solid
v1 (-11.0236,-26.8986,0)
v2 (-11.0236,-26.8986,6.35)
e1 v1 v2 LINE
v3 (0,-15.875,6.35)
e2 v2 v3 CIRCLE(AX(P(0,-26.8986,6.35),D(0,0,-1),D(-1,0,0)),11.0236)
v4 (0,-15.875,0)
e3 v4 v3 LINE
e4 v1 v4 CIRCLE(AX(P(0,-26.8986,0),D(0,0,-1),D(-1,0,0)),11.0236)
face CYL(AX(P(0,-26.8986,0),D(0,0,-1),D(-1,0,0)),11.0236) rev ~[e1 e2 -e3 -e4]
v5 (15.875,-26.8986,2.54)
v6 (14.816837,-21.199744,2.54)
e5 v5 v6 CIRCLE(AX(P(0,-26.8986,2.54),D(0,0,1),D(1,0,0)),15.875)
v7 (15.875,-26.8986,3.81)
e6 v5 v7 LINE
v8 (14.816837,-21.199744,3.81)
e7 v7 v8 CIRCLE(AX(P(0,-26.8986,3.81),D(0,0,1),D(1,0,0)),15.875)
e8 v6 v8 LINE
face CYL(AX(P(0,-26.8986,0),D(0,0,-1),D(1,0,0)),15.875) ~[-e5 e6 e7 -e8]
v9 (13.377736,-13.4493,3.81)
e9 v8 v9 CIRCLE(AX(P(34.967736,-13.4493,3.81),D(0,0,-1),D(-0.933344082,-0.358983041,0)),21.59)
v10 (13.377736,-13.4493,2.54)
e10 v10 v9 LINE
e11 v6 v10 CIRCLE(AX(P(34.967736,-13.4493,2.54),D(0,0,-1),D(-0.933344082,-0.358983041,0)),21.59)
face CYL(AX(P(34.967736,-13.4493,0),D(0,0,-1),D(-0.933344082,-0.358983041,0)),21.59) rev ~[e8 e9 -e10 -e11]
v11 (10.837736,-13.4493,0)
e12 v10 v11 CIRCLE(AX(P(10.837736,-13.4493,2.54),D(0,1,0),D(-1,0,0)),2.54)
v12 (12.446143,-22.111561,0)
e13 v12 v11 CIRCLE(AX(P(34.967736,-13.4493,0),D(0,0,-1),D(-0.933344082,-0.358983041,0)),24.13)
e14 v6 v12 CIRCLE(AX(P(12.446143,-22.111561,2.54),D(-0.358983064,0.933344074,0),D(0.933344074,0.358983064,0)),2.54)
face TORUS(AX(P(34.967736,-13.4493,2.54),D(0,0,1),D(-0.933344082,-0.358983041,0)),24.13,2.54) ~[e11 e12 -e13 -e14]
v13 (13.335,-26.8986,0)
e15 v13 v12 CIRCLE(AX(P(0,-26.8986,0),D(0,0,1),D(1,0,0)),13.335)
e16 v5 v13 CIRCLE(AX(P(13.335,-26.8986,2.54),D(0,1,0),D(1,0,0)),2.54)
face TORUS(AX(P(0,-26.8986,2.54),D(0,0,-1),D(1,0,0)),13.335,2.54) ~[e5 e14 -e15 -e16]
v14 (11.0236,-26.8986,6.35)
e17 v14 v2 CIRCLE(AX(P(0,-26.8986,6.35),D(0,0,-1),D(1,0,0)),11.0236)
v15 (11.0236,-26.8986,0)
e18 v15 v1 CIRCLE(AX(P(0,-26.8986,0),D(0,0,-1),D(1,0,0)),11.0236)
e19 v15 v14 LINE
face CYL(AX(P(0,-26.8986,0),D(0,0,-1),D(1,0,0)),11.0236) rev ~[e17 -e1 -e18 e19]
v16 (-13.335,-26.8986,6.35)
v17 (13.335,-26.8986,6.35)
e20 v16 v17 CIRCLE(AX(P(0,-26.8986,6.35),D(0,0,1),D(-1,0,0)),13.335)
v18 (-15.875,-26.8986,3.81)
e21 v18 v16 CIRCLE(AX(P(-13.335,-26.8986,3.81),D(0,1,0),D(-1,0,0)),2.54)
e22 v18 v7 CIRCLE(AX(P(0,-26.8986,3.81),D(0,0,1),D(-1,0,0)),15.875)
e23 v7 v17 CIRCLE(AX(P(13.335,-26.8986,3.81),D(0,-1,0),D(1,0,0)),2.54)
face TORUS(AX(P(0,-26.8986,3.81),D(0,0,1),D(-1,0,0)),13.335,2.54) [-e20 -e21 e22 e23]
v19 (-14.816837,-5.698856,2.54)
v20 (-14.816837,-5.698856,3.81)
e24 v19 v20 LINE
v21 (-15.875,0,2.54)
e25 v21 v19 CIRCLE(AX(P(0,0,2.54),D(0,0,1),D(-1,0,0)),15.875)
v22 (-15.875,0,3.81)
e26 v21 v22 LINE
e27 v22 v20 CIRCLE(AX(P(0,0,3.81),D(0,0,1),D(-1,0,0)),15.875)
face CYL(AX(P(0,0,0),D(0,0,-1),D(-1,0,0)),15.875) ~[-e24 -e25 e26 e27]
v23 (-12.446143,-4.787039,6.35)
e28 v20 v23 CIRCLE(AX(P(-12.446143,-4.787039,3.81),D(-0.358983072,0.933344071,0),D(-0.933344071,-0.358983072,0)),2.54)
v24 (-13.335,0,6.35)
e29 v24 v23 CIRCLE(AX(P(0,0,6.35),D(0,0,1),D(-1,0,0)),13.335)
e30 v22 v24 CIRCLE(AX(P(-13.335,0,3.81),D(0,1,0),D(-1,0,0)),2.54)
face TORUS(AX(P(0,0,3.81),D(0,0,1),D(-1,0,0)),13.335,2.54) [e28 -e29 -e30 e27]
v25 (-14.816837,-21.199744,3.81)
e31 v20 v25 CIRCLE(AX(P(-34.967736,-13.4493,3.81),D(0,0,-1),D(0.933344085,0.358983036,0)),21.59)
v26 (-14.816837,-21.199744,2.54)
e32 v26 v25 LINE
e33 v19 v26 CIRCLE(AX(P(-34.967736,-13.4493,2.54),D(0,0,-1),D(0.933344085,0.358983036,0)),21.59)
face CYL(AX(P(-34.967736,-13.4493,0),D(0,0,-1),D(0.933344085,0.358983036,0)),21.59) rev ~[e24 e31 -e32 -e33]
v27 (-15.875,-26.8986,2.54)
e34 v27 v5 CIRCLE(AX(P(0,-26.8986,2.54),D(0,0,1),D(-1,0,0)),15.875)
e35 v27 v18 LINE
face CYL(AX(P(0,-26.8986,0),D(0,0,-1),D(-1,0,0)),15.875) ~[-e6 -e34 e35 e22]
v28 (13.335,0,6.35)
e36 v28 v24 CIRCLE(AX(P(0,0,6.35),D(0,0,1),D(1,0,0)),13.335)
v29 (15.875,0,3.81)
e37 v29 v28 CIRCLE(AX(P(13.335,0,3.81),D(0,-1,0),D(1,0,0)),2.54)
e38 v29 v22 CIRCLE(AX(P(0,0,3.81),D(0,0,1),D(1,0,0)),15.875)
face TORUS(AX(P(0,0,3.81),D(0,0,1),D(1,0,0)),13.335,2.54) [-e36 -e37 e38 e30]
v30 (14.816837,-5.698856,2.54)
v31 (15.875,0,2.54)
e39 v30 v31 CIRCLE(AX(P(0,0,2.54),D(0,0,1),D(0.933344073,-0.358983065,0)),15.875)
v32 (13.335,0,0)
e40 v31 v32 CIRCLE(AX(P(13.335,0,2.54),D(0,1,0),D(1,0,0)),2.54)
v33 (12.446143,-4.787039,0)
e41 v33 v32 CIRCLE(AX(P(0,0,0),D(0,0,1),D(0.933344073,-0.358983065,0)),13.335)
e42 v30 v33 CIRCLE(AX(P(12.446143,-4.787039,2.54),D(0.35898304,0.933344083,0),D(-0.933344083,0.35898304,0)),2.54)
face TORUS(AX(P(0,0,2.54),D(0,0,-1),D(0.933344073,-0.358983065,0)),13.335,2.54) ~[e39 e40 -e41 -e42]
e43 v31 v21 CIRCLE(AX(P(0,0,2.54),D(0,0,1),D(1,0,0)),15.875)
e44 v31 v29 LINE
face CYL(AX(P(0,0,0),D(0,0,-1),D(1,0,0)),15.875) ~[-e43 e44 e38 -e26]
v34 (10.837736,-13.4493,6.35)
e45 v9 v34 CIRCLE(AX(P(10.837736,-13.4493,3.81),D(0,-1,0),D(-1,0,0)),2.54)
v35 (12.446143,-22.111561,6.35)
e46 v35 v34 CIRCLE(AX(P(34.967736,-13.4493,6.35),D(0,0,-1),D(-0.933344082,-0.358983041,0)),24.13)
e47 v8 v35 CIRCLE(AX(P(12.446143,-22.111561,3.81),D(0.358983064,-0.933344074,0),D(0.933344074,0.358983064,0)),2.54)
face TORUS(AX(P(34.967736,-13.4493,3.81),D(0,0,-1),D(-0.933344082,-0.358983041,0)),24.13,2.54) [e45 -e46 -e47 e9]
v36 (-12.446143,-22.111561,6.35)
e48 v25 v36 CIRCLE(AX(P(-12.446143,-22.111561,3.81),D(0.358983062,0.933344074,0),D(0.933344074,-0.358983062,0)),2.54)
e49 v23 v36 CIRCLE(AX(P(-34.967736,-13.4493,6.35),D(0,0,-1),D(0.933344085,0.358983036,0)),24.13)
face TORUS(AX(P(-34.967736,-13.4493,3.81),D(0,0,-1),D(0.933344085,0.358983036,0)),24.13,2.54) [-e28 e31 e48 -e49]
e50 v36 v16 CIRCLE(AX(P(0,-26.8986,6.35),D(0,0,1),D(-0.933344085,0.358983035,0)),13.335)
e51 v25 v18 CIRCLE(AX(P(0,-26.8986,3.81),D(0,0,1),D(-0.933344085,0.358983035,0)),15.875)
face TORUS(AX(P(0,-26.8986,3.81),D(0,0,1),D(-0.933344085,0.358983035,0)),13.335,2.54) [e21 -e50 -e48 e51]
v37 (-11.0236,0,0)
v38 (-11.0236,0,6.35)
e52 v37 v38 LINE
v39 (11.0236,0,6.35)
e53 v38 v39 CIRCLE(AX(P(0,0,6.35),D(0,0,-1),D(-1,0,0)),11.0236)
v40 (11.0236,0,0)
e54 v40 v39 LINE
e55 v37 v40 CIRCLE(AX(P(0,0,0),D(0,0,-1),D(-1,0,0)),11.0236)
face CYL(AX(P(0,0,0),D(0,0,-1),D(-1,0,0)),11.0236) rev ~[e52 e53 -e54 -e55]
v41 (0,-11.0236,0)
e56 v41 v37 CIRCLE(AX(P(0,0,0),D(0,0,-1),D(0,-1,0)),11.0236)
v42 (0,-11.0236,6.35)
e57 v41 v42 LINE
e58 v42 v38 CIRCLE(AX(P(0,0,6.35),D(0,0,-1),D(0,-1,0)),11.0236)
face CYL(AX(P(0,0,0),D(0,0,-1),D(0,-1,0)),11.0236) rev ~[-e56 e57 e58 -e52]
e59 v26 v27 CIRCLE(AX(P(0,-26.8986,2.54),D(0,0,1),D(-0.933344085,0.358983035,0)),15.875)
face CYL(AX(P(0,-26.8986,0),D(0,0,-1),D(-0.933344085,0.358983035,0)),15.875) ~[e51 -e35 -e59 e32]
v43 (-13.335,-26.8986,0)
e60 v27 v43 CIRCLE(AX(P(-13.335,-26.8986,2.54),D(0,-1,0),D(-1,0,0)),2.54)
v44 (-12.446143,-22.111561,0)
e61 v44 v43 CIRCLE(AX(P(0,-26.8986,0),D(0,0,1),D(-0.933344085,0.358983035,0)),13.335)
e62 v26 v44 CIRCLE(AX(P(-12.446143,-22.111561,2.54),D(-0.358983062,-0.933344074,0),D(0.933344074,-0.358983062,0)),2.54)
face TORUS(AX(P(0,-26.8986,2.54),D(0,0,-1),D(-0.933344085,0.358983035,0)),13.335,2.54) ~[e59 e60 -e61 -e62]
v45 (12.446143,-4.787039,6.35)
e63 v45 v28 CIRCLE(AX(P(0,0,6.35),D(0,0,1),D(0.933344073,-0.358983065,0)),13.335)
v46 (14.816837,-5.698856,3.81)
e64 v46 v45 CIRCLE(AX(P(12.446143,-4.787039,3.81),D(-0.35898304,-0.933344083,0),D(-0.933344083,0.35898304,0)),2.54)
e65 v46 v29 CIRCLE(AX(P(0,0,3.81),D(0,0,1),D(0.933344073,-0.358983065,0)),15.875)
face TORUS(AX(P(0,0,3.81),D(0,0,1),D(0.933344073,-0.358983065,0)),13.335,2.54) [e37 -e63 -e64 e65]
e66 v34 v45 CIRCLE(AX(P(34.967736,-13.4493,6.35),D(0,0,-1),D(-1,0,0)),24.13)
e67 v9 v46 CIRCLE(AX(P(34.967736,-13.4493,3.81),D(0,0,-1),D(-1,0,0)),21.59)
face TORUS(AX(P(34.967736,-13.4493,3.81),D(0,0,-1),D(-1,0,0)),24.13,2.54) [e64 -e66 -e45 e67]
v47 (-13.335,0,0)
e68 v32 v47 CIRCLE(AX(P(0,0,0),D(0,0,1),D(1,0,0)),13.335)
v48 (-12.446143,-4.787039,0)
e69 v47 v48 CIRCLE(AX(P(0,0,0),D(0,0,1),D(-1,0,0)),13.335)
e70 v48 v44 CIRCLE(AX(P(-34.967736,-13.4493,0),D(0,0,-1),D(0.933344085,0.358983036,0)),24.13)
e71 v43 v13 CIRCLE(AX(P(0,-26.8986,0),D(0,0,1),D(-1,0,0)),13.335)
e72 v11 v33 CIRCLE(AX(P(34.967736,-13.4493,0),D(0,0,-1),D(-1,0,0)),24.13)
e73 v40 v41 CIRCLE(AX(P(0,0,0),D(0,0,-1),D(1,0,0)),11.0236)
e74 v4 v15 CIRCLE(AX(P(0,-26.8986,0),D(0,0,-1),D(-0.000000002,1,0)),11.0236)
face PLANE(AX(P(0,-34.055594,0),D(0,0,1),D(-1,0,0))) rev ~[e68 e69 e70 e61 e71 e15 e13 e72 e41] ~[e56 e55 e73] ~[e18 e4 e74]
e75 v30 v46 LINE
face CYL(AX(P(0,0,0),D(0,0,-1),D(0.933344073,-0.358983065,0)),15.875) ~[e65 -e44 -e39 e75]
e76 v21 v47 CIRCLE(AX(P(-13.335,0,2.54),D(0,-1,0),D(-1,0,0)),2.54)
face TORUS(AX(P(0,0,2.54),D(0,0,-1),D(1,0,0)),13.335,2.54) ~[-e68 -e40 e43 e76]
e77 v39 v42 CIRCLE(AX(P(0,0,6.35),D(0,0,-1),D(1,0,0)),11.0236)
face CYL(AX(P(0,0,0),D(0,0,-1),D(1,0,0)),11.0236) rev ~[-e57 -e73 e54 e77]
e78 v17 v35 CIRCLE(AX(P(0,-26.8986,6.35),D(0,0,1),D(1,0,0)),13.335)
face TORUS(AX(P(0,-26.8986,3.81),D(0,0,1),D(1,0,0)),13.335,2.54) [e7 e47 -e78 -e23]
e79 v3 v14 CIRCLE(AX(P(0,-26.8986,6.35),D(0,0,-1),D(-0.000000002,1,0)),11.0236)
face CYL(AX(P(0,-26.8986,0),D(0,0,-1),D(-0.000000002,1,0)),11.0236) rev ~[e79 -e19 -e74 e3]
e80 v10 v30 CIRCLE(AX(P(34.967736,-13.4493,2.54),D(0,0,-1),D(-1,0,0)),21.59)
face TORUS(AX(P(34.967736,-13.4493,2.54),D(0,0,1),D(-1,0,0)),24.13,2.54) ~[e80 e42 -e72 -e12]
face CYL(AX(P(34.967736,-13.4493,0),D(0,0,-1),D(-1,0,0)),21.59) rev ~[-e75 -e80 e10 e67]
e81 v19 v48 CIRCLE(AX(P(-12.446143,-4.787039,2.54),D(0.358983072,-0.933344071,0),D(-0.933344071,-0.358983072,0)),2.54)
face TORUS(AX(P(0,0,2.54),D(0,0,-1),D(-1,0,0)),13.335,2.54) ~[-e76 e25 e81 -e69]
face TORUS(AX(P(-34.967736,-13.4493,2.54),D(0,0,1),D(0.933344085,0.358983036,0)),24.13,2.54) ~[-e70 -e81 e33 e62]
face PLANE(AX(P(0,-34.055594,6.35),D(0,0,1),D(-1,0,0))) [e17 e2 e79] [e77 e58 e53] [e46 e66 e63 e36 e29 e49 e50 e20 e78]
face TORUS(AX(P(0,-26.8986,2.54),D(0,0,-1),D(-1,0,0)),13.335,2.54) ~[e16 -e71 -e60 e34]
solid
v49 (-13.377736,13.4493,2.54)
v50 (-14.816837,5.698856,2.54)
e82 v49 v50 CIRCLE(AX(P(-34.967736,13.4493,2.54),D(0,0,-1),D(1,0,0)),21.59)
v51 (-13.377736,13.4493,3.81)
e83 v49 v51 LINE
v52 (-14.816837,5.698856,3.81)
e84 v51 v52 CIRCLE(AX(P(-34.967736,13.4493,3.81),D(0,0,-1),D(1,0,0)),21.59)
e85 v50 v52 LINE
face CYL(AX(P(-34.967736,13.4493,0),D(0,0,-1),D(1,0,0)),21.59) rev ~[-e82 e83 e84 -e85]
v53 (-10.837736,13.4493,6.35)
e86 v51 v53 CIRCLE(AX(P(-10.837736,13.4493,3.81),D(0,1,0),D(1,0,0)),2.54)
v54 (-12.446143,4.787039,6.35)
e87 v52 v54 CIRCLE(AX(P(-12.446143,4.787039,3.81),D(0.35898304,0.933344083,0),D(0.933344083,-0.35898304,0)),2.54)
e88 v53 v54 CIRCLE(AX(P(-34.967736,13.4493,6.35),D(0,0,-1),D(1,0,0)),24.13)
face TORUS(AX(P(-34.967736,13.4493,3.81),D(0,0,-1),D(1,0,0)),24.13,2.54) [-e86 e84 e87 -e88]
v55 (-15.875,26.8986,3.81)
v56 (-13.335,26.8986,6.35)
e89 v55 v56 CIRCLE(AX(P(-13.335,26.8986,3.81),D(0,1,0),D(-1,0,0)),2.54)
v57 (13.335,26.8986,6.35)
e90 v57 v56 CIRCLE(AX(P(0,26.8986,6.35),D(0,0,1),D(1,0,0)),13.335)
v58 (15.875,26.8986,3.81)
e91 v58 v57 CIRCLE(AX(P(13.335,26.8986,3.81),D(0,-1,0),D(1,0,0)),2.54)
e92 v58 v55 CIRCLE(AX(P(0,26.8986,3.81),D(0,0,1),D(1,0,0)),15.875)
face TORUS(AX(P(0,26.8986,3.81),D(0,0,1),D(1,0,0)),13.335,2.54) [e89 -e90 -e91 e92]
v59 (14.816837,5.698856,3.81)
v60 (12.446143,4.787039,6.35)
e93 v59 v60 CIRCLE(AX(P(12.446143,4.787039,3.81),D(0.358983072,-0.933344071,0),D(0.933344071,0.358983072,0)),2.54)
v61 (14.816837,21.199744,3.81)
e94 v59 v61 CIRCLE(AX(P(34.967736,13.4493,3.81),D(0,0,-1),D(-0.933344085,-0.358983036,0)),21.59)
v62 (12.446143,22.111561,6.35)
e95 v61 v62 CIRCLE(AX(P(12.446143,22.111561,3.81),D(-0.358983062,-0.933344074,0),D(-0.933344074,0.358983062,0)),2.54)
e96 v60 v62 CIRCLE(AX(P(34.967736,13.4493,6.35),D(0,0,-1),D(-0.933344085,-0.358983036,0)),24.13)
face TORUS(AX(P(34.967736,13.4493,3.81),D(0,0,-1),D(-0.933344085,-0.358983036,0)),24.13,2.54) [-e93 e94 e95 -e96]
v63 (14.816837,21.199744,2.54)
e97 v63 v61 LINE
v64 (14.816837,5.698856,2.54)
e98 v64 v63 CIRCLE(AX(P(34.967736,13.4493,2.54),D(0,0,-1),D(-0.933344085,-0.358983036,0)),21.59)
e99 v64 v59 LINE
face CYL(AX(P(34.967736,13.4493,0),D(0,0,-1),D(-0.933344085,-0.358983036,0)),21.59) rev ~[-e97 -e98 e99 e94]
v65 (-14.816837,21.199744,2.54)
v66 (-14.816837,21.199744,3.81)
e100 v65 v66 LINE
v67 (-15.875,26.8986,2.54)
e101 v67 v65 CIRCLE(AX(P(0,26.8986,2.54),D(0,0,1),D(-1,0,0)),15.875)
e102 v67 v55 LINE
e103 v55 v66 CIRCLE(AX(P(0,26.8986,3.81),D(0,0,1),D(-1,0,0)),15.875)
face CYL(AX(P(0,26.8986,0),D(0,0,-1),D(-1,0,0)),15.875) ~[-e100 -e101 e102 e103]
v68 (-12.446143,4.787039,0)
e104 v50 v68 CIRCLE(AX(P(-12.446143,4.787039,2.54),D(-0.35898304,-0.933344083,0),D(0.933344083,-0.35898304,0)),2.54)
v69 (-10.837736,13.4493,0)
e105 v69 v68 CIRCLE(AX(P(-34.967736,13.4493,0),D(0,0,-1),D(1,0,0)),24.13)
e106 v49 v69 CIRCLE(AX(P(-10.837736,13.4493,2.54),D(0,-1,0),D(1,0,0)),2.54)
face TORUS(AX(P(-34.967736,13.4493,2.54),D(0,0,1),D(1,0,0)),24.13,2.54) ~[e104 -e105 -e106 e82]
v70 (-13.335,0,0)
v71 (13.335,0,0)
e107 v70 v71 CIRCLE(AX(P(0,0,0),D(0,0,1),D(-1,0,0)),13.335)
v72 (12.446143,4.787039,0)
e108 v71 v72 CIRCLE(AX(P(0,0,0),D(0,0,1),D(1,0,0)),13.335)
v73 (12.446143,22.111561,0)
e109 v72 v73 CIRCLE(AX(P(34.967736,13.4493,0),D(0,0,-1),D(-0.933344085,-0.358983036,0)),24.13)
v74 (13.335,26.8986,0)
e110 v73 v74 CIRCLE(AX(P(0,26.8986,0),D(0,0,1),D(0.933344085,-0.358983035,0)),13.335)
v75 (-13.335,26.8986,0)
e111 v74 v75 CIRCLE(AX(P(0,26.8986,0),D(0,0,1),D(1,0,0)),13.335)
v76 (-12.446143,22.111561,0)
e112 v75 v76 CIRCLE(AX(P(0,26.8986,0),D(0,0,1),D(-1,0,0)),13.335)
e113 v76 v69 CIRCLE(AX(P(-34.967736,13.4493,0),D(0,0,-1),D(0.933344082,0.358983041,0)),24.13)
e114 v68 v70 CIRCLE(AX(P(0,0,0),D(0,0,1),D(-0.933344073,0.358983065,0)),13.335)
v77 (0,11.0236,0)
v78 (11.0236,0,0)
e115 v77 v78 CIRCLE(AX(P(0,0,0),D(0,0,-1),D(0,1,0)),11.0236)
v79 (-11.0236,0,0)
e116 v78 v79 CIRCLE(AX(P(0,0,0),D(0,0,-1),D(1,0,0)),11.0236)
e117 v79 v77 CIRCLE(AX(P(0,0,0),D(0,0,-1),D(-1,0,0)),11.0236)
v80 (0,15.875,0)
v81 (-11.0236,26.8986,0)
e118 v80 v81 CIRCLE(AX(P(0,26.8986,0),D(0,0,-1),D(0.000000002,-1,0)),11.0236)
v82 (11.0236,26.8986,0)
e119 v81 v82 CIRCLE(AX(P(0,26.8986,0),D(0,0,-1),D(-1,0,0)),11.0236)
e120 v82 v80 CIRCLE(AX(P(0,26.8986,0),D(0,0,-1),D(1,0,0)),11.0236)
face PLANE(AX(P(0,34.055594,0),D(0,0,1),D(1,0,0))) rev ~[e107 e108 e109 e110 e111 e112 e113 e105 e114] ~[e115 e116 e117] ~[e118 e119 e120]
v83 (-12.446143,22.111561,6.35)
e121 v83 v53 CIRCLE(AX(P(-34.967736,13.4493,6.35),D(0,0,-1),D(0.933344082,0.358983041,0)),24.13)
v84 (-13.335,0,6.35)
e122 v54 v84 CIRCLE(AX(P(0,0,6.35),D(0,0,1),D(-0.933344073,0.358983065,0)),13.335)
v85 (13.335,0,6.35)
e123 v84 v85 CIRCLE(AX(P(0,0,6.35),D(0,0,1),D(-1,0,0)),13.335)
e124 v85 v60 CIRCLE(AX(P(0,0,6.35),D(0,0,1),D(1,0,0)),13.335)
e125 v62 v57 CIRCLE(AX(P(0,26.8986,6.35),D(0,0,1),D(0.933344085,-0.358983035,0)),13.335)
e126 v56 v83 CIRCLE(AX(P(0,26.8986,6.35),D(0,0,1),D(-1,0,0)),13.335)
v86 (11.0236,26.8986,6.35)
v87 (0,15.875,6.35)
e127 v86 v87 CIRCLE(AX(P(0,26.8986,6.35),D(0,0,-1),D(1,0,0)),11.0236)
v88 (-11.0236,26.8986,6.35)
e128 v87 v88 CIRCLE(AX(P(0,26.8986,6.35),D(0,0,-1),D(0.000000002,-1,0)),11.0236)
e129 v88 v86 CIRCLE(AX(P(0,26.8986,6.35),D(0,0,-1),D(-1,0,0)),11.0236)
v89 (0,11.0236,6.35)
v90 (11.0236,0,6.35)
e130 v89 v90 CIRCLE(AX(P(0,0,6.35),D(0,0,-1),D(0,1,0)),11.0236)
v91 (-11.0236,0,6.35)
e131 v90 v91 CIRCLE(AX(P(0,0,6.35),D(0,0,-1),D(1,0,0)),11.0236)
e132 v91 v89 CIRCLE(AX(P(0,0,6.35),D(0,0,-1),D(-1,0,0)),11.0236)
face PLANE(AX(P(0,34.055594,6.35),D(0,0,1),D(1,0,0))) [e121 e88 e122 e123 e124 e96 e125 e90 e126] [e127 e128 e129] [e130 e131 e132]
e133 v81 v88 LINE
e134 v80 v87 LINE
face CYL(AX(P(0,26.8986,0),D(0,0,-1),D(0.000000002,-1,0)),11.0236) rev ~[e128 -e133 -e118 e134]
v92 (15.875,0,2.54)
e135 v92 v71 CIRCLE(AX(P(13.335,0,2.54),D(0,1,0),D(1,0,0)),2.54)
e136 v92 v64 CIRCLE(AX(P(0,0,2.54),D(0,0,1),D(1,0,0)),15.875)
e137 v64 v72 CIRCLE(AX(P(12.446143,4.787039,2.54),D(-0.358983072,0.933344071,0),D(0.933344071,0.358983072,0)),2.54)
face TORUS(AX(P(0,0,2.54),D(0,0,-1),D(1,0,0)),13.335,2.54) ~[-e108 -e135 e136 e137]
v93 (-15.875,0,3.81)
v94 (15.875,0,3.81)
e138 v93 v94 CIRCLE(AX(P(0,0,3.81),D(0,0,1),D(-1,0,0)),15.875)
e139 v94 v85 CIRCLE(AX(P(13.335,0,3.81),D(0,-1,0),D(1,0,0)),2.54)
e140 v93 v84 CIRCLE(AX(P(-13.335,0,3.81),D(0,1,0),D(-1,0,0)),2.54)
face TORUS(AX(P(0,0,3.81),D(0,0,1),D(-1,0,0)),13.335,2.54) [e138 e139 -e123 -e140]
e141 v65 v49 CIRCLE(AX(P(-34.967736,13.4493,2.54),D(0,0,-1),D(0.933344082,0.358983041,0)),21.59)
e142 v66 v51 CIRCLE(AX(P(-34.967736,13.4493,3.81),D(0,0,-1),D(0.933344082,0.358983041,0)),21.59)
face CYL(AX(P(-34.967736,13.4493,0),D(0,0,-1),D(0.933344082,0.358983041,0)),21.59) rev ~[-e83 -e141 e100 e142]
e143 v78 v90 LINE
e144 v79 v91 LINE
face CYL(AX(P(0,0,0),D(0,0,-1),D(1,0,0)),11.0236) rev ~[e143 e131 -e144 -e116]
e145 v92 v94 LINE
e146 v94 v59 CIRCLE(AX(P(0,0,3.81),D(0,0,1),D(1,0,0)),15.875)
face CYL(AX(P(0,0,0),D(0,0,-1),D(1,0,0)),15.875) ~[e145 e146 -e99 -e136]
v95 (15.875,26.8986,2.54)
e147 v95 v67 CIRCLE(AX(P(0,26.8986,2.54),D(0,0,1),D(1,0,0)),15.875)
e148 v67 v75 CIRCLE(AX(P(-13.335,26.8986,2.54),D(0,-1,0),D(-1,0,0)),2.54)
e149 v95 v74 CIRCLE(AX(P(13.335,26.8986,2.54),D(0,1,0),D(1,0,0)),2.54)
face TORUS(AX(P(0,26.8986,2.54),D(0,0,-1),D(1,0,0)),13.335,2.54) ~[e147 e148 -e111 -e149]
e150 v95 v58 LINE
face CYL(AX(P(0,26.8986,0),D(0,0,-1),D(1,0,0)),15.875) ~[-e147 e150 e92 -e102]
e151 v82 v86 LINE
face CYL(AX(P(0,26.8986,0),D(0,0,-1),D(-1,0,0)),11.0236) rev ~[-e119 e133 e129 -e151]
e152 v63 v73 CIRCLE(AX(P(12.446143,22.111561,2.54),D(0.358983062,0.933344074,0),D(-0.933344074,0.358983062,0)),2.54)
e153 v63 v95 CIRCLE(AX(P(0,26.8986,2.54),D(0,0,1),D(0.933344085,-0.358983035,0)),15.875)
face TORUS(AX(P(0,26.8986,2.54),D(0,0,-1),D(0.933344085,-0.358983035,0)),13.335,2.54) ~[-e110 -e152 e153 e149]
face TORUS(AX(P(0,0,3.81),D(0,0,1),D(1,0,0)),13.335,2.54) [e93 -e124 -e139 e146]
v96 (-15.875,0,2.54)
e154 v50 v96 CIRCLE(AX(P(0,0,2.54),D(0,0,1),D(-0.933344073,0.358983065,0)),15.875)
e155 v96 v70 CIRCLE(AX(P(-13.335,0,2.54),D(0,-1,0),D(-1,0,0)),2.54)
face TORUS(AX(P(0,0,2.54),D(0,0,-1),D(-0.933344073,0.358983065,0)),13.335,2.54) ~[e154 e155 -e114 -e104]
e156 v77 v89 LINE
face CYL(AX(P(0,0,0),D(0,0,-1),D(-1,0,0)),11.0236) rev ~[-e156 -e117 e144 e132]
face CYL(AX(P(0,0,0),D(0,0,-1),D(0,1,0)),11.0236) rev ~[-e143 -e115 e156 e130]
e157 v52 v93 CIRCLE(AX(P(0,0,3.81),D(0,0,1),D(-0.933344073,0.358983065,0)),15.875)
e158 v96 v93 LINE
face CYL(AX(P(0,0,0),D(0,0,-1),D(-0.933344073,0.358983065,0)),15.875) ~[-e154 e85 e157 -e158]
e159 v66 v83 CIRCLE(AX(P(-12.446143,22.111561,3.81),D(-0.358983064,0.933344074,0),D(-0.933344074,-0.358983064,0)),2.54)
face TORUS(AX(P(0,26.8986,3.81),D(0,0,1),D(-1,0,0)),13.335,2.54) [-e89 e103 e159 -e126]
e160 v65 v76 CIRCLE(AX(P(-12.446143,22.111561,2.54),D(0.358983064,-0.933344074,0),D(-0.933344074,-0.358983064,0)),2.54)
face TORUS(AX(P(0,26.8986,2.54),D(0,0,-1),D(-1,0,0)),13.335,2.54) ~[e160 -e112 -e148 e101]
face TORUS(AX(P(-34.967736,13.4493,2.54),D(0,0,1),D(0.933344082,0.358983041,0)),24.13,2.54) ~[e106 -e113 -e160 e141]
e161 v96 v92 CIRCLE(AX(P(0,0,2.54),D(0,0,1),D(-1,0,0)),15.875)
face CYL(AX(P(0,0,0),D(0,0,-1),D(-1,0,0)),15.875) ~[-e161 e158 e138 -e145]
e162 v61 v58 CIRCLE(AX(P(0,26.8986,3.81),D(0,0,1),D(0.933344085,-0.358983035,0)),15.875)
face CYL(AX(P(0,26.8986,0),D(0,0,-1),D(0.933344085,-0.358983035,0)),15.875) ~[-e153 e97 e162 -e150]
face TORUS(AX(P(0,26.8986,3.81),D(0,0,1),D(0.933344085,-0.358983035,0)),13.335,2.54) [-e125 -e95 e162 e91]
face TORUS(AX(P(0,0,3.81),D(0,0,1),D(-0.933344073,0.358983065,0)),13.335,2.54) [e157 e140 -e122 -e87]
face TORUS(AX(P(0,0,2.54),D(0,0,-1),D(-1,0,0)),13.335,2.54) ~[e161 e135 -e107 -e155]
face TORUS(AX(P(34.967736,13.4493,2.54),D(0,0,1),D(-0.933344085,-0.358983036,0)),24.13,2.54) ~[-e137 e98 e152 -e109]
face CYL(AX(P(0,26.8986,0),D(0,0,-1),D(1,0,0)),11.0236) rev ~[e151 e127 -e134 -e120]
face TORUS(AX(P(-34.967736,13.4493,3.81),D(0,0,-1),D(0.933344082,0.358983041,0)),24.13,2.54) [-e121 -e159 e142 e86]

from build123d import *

# Parameters (mm, degrees)
F1_DEPTH = 6.35
F3_COUNT = 2
F4_R     = 2.54
F4_2_R   = 2.54


with BuildPart() as f1:
    # F0 (on Top) → F1 (new body)
    with BuildSketch(Plane.XY):
        with BuildLine():
            Line((-15.875, 26.8986), (-11.0236, 26.8986))
            ThreePointArc((-11.0236, 26.8986), (0, 37.9222), (11.0236, 26.8986))
            Line((11.0236, 26.8986), (15.875, 26.8986))
            ThreePointArc((15.875, 26.8986), (0, 42.7736), (-15.875, 26.8986))
        make_face()
        with BuildLine():
            ThreePointArc((1.87e-08, 15.875), (4.3879373092, 15.2565274939), (8.4339761981, 13.4493))
            ThreePointArc((8.4339761981, 13.4493), (12.2542820839, 16.8066132973), (14.8168373454, 21.1997443184))
            ThreePointArc((14.8168373454, 21.1997443184), (15.608217673, 24.0004685208), (15.875, 26.8986))
            Line((15.875, 26.8986), (11.0236, 26.8986))
            ThreePointArc((11.0236, 26.8986), (7.7948623197, 19.1037376935), (1.87e-08, 15.875))
        make_face()
        with BuildLine():
            ThreePointArc((-14.816837171, 21.1997438649), (-12.2542819295, 16.8066131097), (-8.4339761981, 13.4493))
            ThreePointArc((-8.4339761981, 13.4493), (-4.3879372911, 15.256527499), (1.87e-08, 15.875))
            ThreePointArc((1.87e-08, 15.875), (-7.7948623065, 19.1037376803), (-11.0236, 26.8986))
            Line((-11.0236, 26.8986), (-15.875, 26.8986))
            ThreePointArc((-15.875, 26.8986), (-15.6082176287, 24.0004682819), (-14.816837171, 21.1997438649))
        make_face()
        with BuildLine():
            ThreePointArc((-8.4339761981, 13.4493), (-4.3879373002, 11.6420725036), (-2e-10, 11.0236))
            ThreePointArc((-2e-10, 11.0236), (4.3879373001, 11.6420725035), (8.4339761981, 13.4493))
            ThreePointArc((8.4339761981, 13.4493), (4.3879373092, 15.2565274939), (1.87e-08, 15.875))
            ThreePointArc((1.87e-08, 15.875), (-4.3879372911, 15.256527499), (-8.4339761981, 13.4493))
        make_face()
        with BuildLine():
            ThreePointArc((-2e-10, 11.0236), (7.794862313, 7.7948623132), (11.0236, 0))
            Line((11.0236, 0), (15.875, 0))
            ThreePointArc((15.875, 0), (15.6082176163, 2.898131785), (14.8168371221, 5.6988562621))
            ThreePointArc((14.8168371221, 5.6988562621), (12.2542818862, 10.0919869428), (8.4339761981, 13.4493))
            ThreePointArc((8.4339761981, 13.4493), (4.3879373001, 11.6420725035), (-2e-10, 11.0236))
        make_face()
        with BuildLine():
            ThreePointArc((-11.0236, 0), (-7.7948623132, 7.794862313), (-2e-10, 11.0236))
            ThreePointArc((-2e-10, 11.0236), (-4.3879373002, 11.6420725036), (-8.4339761981, 13.4493))
            ThreePointArc((-8.4339761981, 13.4493), (-12.2542819201, 10.0919869016), (-14.8168371604, 5.6988561625))
            ThreePointArc((-14.8168371604, 5.6988561625), (-15.608217626, 2.8981317325), (-15.875, 0))
            Line((-15.875, 0), (-11.0236, 0))
        make_face()
        with BuildLine():
            Line((15.875, 0), (11.0236, 0))
            ThreePointArc((11.0236, 0), (0, -11.0236), (-11.0236, 0))
            Line((-11.0236, 0), (-15.875, 0))
            ThreePointArc((-15.875, 0), (0, -15.875), (15.875, 0))
        make_face()
        with BuildLine():
            ThreePointArc((14.8168373454, 21.1997443184), (12.2542820839, 16.8066132973), (8.4339761981, 13.4493))
            ThreePointArc((8.4339761981, 13.4493), (12.2542818862, 10.0919869428), (14.8168371221, 5.6988562621))
            ThreePointArc((14.8168371221, 5.6988562621), (13.3777359077, 13.449300311), (14.8168373454, 21.1997443184))
        make_face()
        with BuildLine():
            ThreePointArc((-14.8168371604, 5.6988561625), (-12.2542819201, 10.0919869016), (-8.4339761981, 13.4493))
            ThreePointArc((-8.4339761981, 13.4493), (-12.2542819295, 16.8066131097), (-14.816837171, 21.1997438649))
            ThreePointArc((-14.816837171, 21.1997438649), (-13.7405598858, 17.3907588844), (-13.3777359077, 13.4493))
            ThreePointArc((-13.3777359077, 13.4493), (-13.7405598832, 9.5078411301), (-14.8168371604, 5.6988561625))
        make_face()
    extrude(amount=F1_DEPTH)


with BuildPart() as f3_1:
    # F3: instance of F1
    add(f1.part.rotate(Axis((0, 0, 0), (0, 0, 1)), 1 * 360 / F3_COUNT))

    # F4#2
    f4_2_edges = [f3_1.edges().sort_by_distance(p)[0] for p in [
        (0, -42.7736, 6.35),
        (-14.816837, -21.199744, 3.175),
        (14.816837, -21.199744, 3.175),
        (0, -42.7736, 0),
    ]]
    fillet(f4_2_edges, radius=F4_2_R)


with BuildPart() as f1_1:
    add(f1.part)

    # F4
    f4_edges = [f1_1.edges().sort_by_distance(p)[0] for p in [
        (0, 42.7736, 6.35),
        (0, 42.7736, 0),
    ]]
    fillet(f4_edges, radius=F4_R)


solid = Compound([f3_1.part, f1_1.part])
